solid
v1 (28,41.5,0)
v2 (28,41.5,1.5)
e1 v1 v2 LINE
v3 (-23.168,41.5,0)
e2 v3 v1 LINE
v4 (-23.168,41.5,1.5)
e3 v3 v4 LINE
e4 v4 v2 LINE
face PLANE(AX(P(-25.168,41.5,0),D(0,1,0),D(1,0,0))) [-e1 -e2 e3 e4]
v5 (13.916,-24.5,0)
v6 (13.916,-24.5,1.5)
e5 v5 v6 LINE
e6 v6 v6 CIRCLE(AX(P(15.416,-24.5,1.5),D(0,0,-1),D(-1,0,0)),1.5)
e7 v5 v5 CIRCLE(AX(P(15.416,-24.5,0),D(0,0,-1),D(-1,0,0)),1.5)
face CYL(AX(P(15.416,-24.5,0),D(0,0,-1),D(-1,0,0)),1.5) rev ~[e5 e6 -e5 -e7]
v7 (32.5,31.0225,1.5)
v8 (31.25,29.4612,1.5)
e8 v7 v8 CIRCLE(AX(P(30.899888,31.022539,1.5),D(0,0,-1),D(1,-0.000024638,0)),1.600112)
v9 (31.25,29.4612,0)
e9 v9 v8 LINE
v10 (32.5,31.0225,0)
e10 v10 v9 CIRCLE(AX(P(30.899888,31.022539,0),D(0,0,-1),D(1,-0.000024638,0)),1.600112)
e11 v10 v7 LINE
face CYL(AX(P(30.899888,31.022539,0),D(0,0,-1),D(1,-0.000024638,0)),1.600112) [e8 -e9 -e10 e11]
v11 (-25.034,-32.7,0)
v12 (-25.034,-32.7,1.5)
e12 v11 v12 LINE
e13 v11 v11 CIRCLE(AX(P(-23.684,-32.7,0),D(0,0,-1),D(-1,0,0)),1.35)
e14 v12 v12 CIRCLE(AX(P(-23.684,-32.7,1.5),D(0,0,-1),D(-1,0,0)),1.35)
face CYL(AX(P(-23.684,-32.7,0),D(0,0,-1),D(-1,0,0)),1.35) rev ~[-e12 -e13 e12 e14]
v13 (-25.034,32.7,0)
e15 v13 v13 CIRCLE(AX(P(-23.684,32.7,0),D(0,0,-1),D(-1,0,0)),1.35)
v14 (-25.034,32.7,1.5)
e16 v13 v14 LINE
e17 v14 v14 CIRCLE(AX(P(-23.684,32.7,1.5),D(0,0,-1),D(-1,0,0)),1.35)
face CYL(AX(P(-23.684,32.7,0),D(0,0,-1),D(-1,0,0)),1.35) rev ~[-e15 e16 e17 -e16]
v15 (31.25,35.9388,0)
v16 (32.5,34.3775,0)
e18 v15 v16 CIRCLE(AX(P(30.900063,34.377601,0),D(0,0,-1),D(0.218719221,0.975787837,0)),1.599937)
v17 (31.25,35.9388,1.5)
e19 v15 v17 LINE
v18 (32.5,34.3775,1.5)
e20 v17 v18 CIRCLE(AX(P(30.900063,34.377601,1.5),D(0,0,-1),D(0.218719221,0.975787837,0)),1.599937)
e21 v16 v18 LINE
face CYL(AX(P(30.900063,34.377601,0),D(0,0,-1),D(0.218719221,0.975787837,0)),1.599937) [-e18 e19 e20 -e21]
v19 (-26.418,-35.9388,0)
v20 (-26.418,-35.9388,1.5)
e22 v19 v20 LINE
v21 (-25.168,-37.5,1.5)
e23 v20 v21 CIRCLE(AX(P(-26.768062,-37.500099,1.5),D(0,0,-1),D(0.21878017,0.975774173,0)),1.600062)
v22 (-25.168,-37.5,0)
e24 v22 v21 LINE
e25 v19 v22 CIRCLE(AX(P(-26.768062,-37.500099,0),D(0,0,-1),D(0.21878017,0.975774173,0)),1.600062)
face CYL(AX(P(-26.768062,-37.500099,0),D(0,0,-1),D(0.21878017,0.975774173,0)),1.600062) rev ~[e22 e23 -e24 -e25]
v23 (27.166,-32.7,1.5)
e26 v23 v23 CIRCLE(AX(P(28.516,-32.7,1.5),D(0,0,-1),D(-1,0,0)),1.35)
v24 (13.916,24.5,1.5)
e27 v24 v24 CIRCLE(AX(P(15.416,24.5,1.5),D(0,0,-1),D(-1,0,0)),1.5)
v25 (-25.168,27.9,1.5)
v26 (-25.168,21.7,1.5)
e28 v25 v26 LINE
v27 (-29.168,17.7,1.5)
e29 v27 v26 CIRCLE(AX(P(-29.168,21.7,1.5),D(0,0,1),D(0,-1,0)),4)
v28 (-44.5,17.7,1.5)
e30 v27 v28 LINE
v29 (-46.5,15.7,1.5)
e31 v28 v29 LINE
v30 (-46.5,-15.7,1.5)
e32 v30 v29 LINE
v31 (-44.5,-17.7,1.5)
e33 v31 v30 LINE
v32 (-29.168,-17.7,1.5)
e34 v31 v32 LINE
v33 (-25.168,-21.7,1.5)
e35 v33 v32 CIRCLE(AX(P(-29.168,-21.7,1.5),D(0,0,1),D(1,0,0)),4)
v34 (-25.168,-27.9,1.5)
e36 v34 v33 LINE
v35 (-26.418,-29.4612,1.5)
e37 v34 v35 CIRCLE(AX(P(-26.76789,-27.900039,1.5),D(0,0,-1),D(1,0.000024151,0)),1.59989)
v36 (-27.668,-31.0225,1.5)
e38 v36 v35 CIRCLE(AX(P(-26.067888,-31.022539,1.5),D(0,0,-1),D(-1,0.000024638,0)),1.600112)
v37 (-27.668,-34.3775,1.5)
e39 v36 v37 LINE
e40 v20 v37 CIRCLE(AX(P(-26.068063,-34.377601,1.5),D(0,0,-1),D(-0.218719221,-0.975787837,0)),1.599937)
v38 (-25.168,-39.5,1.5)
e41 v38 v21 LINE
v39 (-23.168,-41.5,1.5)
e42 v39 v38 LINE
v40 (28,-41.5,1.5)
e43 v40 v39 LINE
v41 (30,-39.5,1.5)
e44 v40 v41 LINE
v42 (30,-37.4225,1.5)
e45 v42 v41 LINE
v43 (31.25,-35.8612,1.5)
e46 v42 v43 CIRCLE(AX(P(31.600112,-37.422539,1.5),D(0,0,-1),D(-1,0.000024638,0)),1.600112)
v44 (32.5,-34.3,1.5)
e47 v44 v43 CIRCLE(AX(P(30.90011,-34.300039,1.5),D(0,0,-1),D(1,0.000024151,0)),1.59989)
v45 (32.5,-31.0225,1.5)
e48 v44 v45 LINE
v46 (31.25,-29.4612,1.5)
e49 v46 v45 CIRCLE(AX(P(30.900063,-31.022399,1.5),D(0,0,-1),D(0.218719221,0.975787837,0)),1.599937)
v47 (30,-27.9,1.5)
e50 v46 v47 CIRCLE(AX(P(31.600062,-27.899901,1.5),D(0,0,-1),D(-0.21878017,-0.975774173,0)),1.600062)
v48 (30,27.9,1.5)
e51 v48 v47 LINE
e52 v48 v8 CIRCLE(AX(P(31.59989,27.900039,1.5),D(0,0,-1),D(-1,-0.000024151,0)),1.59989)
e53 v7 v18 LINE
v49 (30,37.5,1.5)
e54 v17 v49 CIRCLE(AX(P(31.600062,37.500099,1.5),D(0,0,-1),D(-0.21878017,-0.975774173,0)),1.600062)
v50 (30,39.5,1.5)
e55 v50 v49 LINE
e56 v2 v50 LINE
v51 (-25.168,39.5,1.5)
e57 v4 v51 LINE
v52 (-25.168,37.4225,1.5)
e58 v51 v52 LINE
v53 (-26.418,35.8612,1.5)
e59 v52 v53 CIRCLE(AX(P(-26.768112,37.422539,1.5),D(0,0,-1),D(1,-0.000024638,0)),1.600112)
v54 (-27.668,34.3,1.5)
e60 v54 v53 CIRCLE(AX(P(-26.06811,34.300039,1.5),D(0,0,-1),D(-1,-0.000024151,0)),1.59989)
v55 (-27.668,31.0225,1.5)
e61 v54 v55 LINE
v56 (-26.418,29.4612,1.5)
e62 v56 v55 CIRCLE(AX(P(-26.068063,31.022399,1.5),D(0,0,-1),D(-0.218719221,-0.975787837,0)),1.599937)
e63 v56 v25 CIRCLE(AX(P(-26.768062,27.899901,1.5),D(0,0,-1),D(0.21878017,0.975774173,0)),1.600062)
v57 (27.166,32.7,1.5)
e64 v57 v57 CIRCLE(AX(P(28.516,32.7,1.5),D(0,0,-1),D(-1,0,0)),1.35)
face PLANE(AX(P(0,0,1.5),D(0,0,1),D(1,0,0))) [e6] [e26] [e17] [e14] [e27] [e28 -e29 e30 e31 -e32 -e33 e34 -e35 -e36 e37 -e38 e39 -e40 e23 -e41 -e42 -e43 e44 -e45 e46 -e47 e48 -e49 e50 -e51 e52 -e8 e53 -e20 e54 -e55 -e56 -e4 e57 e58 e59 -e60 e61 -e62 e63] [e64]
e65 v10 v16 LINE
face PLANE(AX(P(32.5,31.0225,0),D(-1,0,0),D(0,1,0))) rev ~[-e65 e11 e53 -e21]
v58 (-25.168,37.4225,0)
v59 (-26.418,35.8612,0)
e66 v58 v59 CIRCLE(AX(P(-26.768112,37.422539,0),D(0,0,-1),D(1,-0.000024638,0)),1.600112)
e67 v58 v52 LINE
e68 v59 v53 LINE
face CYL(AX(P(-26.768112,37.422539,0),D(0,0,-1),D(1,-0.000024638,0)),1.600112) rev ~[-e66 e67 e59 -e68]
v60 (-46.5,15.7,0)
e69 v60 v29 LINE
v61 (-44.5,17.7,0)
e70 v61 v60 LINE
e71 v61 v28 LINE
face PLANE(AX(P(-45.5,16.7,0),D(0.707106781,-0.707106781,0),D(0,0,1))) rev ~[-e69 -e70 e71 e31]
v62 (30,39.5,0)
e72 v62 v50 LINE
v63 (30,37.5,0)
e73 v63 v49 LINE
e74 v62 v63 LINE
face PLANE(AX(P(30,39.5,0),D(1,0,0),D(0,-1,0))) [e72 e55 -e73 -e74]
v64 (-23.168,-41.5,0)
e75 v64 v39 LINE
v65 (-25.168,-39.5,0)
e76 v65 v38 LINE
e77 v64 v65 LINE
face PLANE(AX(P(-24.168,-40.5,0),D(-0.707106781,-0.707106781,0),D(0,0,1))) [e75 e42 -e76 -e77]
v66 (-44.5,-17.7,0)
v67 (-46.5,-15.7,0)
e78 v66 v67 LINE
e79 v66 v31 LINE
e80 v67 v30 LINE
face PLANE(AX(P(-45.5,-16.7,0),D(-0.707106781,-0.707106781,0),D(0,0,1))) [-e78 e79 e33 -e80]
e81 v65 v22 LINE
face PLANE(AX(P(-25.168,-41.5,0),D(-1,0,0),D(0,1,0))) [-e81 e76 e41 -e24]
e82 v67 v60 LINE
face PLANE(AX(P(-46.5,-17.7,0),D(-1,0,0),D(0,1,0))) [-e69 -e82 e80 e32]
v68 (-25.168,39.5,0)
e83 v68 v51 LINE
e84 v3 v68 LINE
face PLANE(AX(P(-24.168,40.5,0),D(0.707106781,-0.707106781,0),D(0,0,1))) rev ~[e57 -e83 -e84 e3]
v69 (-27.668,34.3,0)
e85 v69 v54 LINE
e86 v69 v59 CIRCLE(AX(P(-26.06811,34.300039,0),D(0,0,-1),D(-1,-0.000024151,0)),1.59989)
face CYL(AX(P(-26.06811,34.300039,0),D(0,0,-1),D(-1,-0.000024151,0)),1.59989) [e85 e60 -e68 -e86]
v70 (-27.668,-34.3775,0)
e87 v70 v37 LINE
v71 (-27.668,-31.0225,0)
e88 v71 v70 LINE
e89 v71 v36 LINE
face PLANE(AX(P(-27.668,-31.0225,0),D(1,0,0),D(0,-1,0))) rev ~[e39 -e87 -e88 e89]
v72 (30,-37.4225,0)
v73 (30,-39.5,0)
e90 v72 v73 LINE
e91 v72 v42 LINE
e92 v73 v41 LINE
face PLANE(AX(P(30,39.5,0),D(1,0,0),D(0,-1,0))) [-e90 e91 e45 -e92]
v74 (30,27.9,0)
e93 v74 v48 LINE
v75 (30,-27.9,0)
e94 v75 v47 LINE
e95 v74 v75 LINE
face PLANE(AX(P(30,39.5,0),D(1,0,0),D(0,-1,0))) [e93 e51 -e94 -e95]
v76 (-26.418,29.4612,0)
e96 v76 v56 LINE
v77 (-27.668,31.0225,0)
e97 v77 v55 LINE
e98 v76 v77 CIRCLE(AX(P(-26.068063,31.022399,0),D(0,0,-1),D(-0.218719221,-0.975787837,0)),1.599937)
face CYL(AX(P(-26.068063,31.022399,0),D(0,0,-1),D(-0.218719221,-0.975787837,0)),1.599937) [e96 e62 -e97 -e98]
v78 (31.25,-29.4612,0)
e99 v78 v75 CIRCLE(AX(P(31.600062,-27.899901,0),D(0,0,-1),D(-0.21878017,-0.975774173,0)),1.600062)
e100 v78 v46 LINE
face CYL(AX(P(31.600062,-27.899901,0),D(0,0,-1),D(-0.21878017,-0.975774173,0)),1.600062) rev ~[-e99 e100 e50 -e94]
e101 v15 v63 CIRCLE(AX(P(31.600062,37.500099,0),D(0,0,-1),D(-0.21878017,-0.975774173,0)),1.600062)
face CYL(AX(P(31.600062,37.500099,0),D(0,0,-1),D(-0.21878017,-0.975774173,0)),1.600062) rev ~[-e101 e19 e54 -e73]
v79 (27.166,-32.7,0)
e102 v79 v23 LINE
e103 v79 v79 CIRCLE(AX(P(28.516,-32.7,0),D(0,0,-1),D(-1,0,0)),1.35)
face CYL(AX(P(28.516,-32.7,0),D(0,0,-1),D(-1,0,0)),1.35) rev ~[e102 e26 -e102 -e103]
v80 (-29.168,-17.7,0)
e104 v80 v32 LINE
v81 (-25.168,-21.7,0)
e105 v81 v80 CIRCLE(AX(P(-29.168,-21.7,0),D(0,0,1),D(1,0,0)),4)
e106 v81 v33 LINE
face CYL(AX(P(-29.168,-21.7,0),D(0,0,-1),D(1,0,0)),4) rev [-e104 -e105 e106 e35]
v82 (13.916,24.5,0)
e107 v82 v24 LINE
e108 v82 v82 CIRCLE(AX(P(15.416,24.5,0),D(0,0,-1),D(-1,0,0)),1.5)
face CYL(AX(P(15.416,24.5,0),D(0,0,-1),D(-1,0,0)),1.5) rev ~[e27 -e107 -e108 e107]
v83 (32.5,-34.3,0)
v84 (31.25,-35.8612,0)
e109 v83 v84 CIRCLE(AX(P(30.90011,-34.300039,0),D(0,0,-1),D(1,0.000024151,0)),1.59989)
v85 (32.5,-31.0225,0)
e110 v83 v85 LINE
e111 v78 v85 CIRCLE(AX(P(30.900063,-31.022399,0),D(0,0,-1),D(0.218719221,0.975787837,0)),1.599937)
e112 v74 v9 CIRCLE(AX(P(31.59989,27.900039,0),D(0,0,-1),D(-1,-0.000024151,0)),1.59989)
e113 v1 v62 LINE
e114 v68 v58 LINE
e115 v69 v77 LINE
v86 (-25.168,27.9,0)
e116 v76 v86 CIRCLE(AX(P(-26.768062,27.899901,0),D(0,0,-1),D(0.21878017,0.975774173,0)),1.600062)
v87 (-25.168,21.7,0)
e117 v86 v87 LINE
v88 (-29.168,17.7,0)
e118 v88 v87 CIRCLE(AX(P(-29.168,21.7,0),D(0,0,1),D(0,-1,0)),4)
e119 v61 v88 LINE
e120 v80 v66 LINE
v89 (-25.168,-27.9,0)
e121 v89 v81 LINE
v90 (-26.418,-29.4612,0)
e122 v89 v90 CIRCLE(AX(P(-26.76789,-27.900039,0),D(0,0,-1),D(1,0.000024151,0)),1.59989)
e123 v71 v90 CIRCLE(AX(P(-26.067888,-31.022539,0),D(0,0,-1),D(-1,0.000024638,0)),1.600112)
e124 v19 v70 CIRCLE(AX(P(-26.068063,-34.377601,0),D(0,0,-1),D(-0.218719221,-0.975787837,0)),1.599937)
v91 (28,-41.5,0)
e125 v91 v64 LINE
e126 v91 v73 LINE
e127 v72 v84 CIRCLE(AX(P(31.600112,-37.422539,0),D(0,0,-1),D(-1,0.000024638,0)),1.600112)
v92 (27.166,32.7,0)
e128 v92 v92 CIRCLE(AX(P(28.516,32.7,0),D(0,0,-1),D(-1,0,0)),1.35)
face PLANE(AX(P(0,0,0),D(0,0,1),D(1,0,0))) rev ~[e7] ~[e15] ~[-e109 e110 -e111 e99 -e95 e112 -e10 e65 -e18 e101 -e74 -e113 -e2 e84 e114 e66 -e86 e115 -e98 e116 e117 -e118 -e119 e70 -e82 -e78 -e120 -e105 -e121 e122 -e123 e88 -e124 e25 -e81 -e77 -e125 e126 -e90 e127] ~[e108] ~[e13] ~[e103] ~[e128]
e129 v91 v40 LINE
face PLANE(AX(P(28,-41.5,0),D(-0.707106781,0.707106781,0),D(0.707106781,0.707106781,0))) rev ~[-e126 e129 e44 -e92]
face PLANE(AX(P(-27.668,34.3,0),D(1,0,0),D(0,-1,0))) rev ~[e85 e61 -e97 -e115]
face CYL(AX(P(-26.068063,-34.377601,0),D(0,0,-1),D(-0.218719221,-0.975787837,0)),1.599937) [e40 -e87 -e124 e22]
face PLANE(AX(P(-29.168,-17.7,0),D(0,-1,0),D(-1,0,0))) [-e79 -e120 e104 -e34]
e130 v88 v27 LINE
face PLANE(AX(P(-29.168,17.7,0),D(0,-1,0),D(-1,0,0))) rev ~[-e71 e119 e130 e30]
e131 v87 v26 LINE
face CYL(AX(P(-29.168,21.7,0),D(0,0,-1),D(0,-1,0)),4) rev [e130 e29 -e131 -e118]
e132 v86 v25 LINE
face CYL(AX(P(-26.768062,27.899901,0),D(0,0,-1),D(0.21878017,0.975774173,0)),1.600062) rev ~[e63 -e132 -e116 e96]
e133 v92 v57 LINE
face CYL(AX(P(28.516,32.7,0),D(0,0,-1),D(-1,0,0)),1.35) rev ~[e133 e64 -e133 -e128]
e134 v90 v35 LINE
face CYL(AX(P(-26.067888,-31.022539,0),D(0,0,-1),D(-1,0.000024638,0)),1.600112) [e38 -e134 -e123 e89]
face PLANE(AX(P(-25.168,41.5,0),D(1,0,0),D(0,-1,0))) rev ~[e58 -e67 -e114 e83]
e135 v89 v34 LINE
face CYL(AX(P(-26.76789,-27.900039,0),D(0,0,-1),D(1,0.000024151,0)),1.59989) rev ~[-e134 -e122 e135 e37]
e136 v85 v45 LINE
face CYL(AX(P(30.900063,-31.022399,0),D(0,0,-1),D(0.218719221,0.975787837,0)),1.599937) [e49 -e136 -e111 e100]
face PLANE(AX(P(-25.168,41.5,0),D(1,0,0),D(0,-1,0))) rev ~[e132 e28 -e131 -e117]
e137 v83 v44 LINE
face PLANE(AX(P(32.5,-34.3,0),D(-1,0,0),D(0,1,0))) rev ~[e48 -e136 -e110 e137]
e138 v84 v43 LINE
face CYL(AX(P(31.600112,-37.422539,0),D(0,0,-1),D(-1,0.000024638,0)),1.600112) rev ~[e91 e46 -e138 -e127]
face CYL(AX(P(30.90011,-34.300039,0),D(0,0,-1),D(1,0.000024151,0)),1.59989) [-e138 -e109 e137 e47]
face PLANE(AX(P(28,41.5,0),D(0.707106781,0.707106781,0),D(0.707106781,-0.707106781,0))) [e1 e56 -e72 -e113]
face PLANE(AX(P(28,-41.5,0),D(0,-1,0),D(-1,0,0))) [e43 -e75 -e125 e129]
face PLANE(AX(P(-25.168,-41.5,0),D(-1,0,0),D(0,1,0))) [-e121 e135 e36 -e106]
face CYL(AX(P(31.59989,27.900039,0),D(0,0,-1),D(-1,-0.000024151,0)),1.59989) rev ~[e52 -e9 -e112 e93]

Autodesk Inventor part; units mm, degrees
ref_plane "YZ Plane" through (0, 0, 0) normal (1, 0, 0) x (0, 1, 0)
ref_plane "XZ Plane" through (0, 0, 0) normal (0, 1, 0) x (-1, 0, 0)
ref_plane "XY Plane" through (0, 0, 0) normal (0, 0, 1) x (1, 0, 0)
sketch "Эскиз1" plane through (0, 0, 0) normal (0, 0, 1) x (1, 0, 0)
  line L0 (-30, 41.5) -> (28, 41.5)
  line L1 (30, 39.5) -> (30, -39.5)
  line L2 (28, -41.5) -> (-30, -41.5)
  line L3 (-30, -41.5) -> (-30, 41.5)
  line L4 (-30, 41.5) -> (30, -41.5) construction
  line L5 (30, 41.5) -> (-30, -41.5) construction
  line L6 (-30, -41.5) -> (-42.5, -41.5)
  line L7 (-46.5, -37.5) -> (-46.5, 37.5)
  line L8 (-42.5, 41.5) -> (-30, 41.5)
  line L9 (-30, 41.5) -> (-30, -41.5)
  line L10 (-42.5, -41.5) -> (-46.5, -37.5)
  line L11 (-46.5, 37.5) -> (-42.5, 41.5)
  line L12 (28, 41.5) -> (30, 39.5)
  line L13 (28, -41.5) -> (30, -39.5)
  line L14 (0, 0) -> (-23.984, 0) construction
  line L15 (-23.984, 0) -> (-23.984, 15.7) construction
  line L16 (-23.984, 15.7) -> (0, 15.7) construction
  line L17 (0, 15.7) -> (0, 0) construction
  circle A0 centre (-23.984, 15.7) radius 1.6
  circle A1 centre (-23.984, -15.7) radius 1.6
  circle A2 centre (23.984, 15.7) radius 1.6
  circle A3 centre (23.984, -15.7) radius 1.6
  line L18 (-46.5, -41.5) -> (-25.168, -41.5)
  line L19 (-25.168, -41.5) -> (-25.168, -21.7)
  line L20 (-29.168, -17.7) -> (-46.5, -17.7)
  line L21 (-46.5, -17.7) -> (-46.5, -41.5)
  arc A4 (-25.168, -21.7) -> (-29.168, -17.7) centre (-29.168, -21.7) ccw
  line L22 (-25.168, 41.5) -> (-25.168, 21.7)
  line L23 (-29.168, 17.7) -> (-46.5, 17.7)
  arc A5 (-29.168, 17.7) -> (-25.168, 21.7) centre (-29.168, 21.7) ccw
  point P0 (-46.5, 41.5)
  point P1 (-25.168, -17.7)
  point P2 (-25.168, 41.5)
  point P3 (-46.5, -17.7)
  point P4 (-25.168, -41.5)
  dimension "d0" = 60
  dimension "d1" = 83
  dimension "d2" = 16.5
  dimension "d3" = 83
  dimension "d6" = 4
  dimension "d7" = 4
  dimension "d8" = 4
  dimension "d9" = 4
  dimension "d10" = 2
  dimension "d11" = 2
  dimension "d12" = 2
  dimension "d13" = 2
  dimension "d14" = 23.984
  dimension "d15" = 15.7
  dimension "d16" = 3.2
  dimension "d17" = 21.332
  dimension "d18" = 23.8
  dimension "d19" = 4
extrude "Выдавливание1" add sketch "Эскиз1" along normal blind 1.5 contours L0 L12 L1 L13 L2 L19 A4 L20 L3 L23 A5 L22 | L3 L20 L7 L23 | A0 | A1 | A2 | A3
chamfer "Фаска1" distance 2 angle 45 4 edges at (-46.5, -17.7, 0.75) (-46.5, 17.7, 0.75) (-25.168, -41.5, 0.75) (-25.168, 41.5, 0.75)
sketch "Эскиз2" plane through (0, 0, 0) normal (0, 0, -1) x (-1, 0, 0)
  arc A0 (43.584, 19.7) -> (47.584, 23.7) centre (43.584, 23.7) ccw projected
  arc A1 (27.668, 34.3) -> (26.418, 35.8612) centre (26.068, 34.3) ccw projected
  line L0 (27.668, 34.3) -> (27.668, 31.0225) projected
  arc A2 (26.418, 29.4612) -> (27.668, 31.0225) centre (26.068, 31.0225) ccw projected
  arc A3 (26.418, 29.4612) -> (25.168, 27.9) centre (26.768, 27.9) ccw projected
  line L1 (25.168, 27.9) -> (25.168, 23.7) projected
  arc A4 (25.168, 23.7) -> (29.168, 19.7) centre (29.168, 23.7) ccw projected
  line L2 (29.168, 19.7) -> (43.584, 19.7) projected
  arc A5 (43.584, 19.7) -> (47.584, 23.7) centre (43.584, 23.7) ccw projected
  line L3 (47.584, 23.7) -> (47.584, 39.2) projected
  line L4 (47.584, 39.2) -> (25.168, 39.2) projected
  line L5 (25.168, 39.2) -> (25.168, 37.4225) projected
  arc A6 (25.168, 37.4225) -> (26.418, 35.8612) centre (26.768, 37.4225) ccw projected
  line L6 (52.084, -4) -> (58.0913, -4) projected
  line L7 (58.0913, -4) -> (58.0913, -38.5) projected
  line L8 (58.0913, -38.5) -> (69.3773, -38.5) projected
  line L9 (69.3773, -38.5) -> (69.3773, 32.5) projected
  line L10 (69.3773, 32.5) -> (58.0913, 32.5) projected
  line L11 (58.0913, 32.5) -> (58.0913, 24) projected
  line L12 (58.0913, 24) -> (52.084, 24) projected
  line L13 (52.084, 24) -> (52.084, 13.5) projected
  line L14 (52.084, 13.5) -> (34.584, 13.5) projected
  arc A7 (34.584, 13.5) -> (34.584, 1.5) centre (34.584, 7.5) ccw projected
  line L15 (34.584, 1.5) -> (47.084, 1.5) projected
  line L16 (47.084, 1.5) -> (47.084, -3.7639) projected
  spline S0 degree 3 poles (48.084, -6) (47.8036, -5.6035) (47.4716, -5.1246) (47.1717, -4.4032) (47.084, -4.0595) (47.084, -3.7639) knots 0.566831 0.566831 0.566831 0.566831 0.71252 0.71252 0.801197 0.801197 0.801197 0.801197 projected
  line L17 (51.084, -6) -> (48.084, -6) projected
  spline S1 degree 3 poles (52.084, -3.7639) (52.084, -4.0595) (51.9963, -4.4032) (51.6964, -5.1246) (51.3644, -5.6035) (51.084, -6) knots 0 0 0 0 0.088677 0.088677 0.234365 0.234365 0.234365 0.234365 projected
  line L18 (52.084, -3.7639) -> (52.084, -4) projected
  line L19 (74.484, -42.6) -> (-79.316, -42.6) projected
  line L20 (-79.316, -42.6) -> (-79.316, 42.6) projected
  line L21 (6.584, 42.6) -> (74.484, 42.6) projected
  line L22 (74.484, 42.6) -> (74.484, -42.6) projected
  circle A8 centre (23.684, -32.7) radius 1.6 projected
  circle A9 centre (23.684, 32.7) radius 1.6 projected
  line L23 (20.484, 41.2) -> (6.584, 41.2) projected
  line L24 (-25.316, 41.2) -> (-25.316, -41.2) projected
  line L25 (-25.316, -41.2) -> (20.484, -41.2) projected
  line L26 (20.484, -41.2) -> (20.484, 41.2) projected
  circle A10 centre (-28.516, -32.7) radius 1.6 projected
  circle A11 centre (-28.516, 32.7) radius 1.6 projected
  arc A12 (-32.5, 31.0225) -> (-31.25, 29.4612) centre (-30.9, 31.0225) ccw projected
  line L27 (-32.5, 31.0225) -> (-32.5, 34.3775) projected
  arc A13 (-31.25, 35.9388) -> (-32.5, 34.3775) centre (-30.9, 34.3775) ccw projected
  arc A14 (-31.25, 35.9388) -> (-30, 37.5) centre (-31.6, 37.5) ccw projected
  line L28 (-30, 37.5) -> (-30, 39.2) projected
  line L29 (-30, 39.2) -> (-52.416, 39.2) projected
  line L30 (-52.416, 39.2) -> (-52.416, 23.7) projected
  arc A15 (-52.416, 23.7) -> (-48.416, 19.7) centre (-48.416, 23.7) ccw projected
  line L31 (-48.416, 19.7) -> (-34, 19.7) projected
  arc A16 (-34, 19.7) -> (-30, 23.7) centre (-34, 23.7) ccw projected
  line L32 (-30, 23.7) -> (-30, 27.9) projected
  arc A17 (-30, 27.9) -> (-31.25, 29.4612) centre (-31.6, 27.9) ccw projected
  arc A18 (-32.5, -34.3) -> (-31.25, -35.8612) centre (-30.9, -34.3) ccw projected
  line L33 (-32.5, -34.3) -> (-32.5, -31.0225) projected
  arc A19 (-31.25, -29.4612) -> (-32.5, -31.0225) centre (-30.9, -31.0225) ccw projected
  arc A20 (-31.25, -29.4612) -> (-30, -27.9) centre (-31.6, -27.9) ccw projected
  line L34 (-30, -27.9) -> (-30, -23.7) projected
  arc A21 (-30, -23.7) -> (-34, -19.7) centre (-34, -23.7) ccw projected
  line L35 (-34, -19.7) -> (-48.416, -19.7) projected
  arc A22 (-48.416, -19.7) -> (-52.416, -23.7) centre (-48.416, -23.7) ccw projected
  line L36 (-52.416, -23.7) -> (-52.416, -39.2) projected
  line L37 (-52.416, -39.2) -> (-30, -39.2) projected
  line L38 (-30, -39.2) -> (-30, -37.4225) projected
  arc A23 (-30, -37.4225) -> (-31.25, -35.8612) centre (-31.6, -37.4225) ccw projected
  arc A24 (26.418, -35.9388) -> (27.668, -34.3775) centre (26.068, -34.3775) ccw projected
  arc A25 (26.418, -35.9388) -> (25.168, -37.5) centre (26.768, -37.5) ccw projected
  line L39 (25.168, -37.5) -> (25.168, -39.2) projected
  line L40 (25.168, -39.2) -> (47.584, -39.2) projected
  line L41 (47.584, -39.2) -> (47.584, -23.7) projected
  arc A26 (47.584, -23.7) -> (43.584, -19.7) centre (43.584, -23.7) ccw projected
  line L42 (43.584, -19.7) -> (29.168, -19.7) projected
  arc A27 (29.168, -19.7) -> (25.168, -21.7) centre (29.168, -23.7) ccw projected
  line L43 (25.168, -21.7) -> (25.168, -27.9) projected
  arc A28 (25.168, -27.9) -> (26.418, -29.4612) centre (26.768, -27.9) ccw projected
  arc A29 (27.668, -31.0225) -> (26.418, -29.4612) centre (26.068, -31.0225) ccw projected
  line L44 (27.668, -31.0225) -> (27.668, -34.3775) projected
  line L45 (25.168, -39.2) -> (25.168, 39.2)
  line L46 (25.168, -21.7) -> (25.168, -39.5) projected
  line L47 (-30, 39.2) -> (-30, -39.2)
  line L48 (-11.416, 42.6) -> (-11.416, 41.2) projected
  line L49 (-11.416, 41.2) -> (-25.316, 41.2) projected
  line L50 (6.584, 41.2) -> (6.584, 42.6) projected
  line L51 (-79.316, 42.6) -> (-11.416, 42.6) projected
  point P0 (0, 0)
  point P1 (-30, -37.4225)
  point P2 (-30, -27.9)
  point P3 (-30, 27.9)
  point P4 (-30, 37.5)
  point P5 (25.168, 37.4225)
  point P6 (25.168, 27.9)
  point P7 (25.168, -37.5)
  point P8 (25.168, -27.9)
extrude "Выдавливание2" add sketch "Эскиз2" against normal blind 1.5 contours L45 A9 A6 A1 L0 A2 A3 | L45 A9 | A28 A29 L44 A24 A25 L45 A8 | A8 L45 | L47 A10 | A10 L47 A23 A18 L33 A19 A20 | A17 A12 L27 A13 A14 L47 A11 | A11 L47 picked at (25.1894, 32.5653) picked at (25.1894, -32.5653) picked at (-30.0289, -32.5985) picked at (-30.0289, 32.8015)
sketch "Эскиз3" plane through (0, 0, 0) normal (0, 0, -1) x (-1, 0, 0)
  arc A0 (27.668, 34.3) -> (26.418, 35.8612) centre (26.068, 34.3) ccw projected
  line L0 (27.668, 34.3) -> (27.668, 31.0225) projected
  arc A1 (26.418, 29.4612) -> (27.668, 31.0225) centre (26.068, 31.0225) ccw projected
  arc A2 (26.418, 29.4612) -> (25.168, 27.9) centre (26.768, 27.9) ccw projected
  line L1 (25.168, 27.9) -> (25.168, 23.7) projected
  arc A3 (25.168, 23.7) -> (29.168, 19.7) centre (29.168, 23.7) ccw projected
  line L2 (29.168, 19.7) -> (43.584, 19.7) projected
  arc A4 (43.584, 19.7) -> (47.584, 23.7) centre (43.584, 23.7) ccw projected
  line L3 (47.584, 23.7) -> (47.584, 39.2) projected
  line L4 (47.584, 39.2) -> (25.168, 39.2) projected
  line L5 (25.168, 39.2) -> (25.168, 37.4225) projected
  arc A5 (25.168, 37.4225) -> (26.418, 35.8612) centre (26.768, 37.4225) ccw projected
  line L6 (52.084, -4) -> (58.0913, -4) projected
  line L7 (58.0913, -4) -> (58.0913, -38.5) projected
  line L8 (58.0913, -38.5) -> (69.3773, -38.5) projected
  line L9 (69.3773, -38.5) -> (69.3773, 32.5) projected
  line L10 (69.3773, 32.5) -> (58.0913, 32.5) projected
  line L11 (58.0913, 32.5) -> (58.0913, 24) projected
  line L12 (58.0913, 24) -> (52.084, 24) projected
  line L13 (52.084, 24) -> (52.084, 13.5) projected
  line L14 (52.084, 13.5) -> (34.584, 13.5) projected
  arc A6 (34.584, 13.5) -> (34.584, 1.5) centre (34.584, 7.5) ccw projected
  line L15 (34.584, 1.5) -> (47.084, 1.5) projected
  line L16 (47.084, 1.5) -> (47.084, -3.7639) projected
  spline S0 degree 3 poles (48.084, -6) (47.8036, -5.6035) (47.4716, -5.1246) (47.1717, -4.4032) (47.084, -4.0595) (47.084, -3.7639) knots 0.566831 0.566831 0.566831 0.566831 0.71252 0.71252 0.801197 0.801197 0.801197 0.801197 projected
  line L17 (51.084, -6) -> (48.084, -6) projected
  spline S1 degree 3 poles (52.084, -3.7639) (52.084, -4.0595) (51.9963, -4.4032) (51.6964, -5.1246) (51.3644, -5.6035) (51.084, -6) knots 0 0 0 0 0.088677 0.088677 0.234365 0.234365 0.234365 0.234365 projected
  line L18 (52.084, -3.7639) -> (52.084, -4) projected
  line L19 (74.484, -42.6) -> (-79.316, -42.6) projected
  line L20 (-79.316, -42.6) -> (-79.316, 42.6) projected
  line L21 (6.584, 42.6) -> (74.484, 42.6) projected
  line L22 (74.484, 42.6) -> (74.484, -42.6) projected
  circle A7 centre (23.684, -32.7) radius 1.6 projected
  circle A8 centre (23.684, 32.7) radius 1.6 projected
  line L23 (20.484, 41.2) -> (6.584, 41.2) projected
  line L24 (-25.316, 41.2) -> (-25.316, -41.2) projected
  line L25 (-25.316, -41.2) -> (20.484, -41.2) projected
  line L26 (20.484, -41.2) -> (20.484, 41.2) projected
  circle A9 centre (-28.516, -32.7) radius 1.6 projected
  circle A10 centre (-28.516, 32.7) radius 1.6 projected
  arc A11 (-32.5, 31.0225) -> (-31.25, 29.4612) centre (-30.9, 31.0225) ccw projected
  line L27 (-32.5, 31.0225) -> (-32.5, 34.3775) projected
  arc A12 (-31.25, 35.9388) -> (-32.5, 34.3775) centre (-30.9, 34.3775) ccw projected
  arc A13 (-31.25, 35.9388) -> (-30, 37.5) centre (-31.6, 37.5) ccw projected
  line L28 (-30, 37.5) -> (-30, 39.2) projected
  line L29 (-30, 39.2) -> (-52.416, 39.2) projected
  line L30 (-52.416, 39.2) -> (-52.416, 23.7) projected
  arc A14 (-52.416, 23.7) -> (-48.416, 19.7) centre (-48.416, 23.7) ccw projected
  line L31 (-48.416, 19.7) -> (-34, 19.7) projected
  arc A15 (-34, 19.7) -> (-30, 23.7) centre (-34, 23.7) ccw projected
  line L32 (-30, 23.7) -> (-30, 27.9) projected
  arc A16 (-30, 27.9) -> (-31.25, 29.4612) centre (-31.6, 27.9) ccw projected
  arc A17 (-32.5, -34.3) -> (-31.25, -35.8612) centre (-30.9, -34.3) ccw projected
  line L33 (-32.5, -34.3) -> (-32.5, -31.0225) projected
  arc A18 (-31.25, -29.4612) -> (-32.5, -31.0225) centre (-30.9, -31.0225) ccw projected
  arc A19 (-31.25, -29.4612) -> (-30, -27.9) centre (-31.6, -27.9) ccw projected
  line L34 (-30, -27.9) -> (-30, -23.7) projected
  arc A20 (-30, -23.7) -> (-34, -19.7) centre (-34, -23.7) ccw projected
  line L35 (-34, -19.7) -> (-48.416, -19.7) projected
  arc A21 (-48.416, -19.7) -> (-52.416, -23.7) centre (-48.416, -23.7) ccw projected
  line L36 (-52.416, -23.7) -> (-52.416, -39.2) projected
  line L37 (-52.416, -39.2) -> (-30, -39.2) projected
  line L38 (-30, -39.2) -> (-30, -37.4225) projected
  arc A22 (-30, -37.4225) -> (-31.25, -35.8612) centre (-31.6, -37.4225) ccw projected
  arc A23 (26.418, -35.9388) -> (27.668, -34.3775) centre (26.068, -34.3775) ccw projected
  arc A24 (26.418, -35.9388) -> (25.168, -37.5) centre (26.768, -37.5) ccw projected
  line L39 (25.168, -37.5) -> (25.168, -39.2) projected
  line L40 (25.168, -39.2) -> (47.584, -39.2) projected
  line L41 (47.584, -39.2) -> (47.584, -23.7) projected
  arc A25 (47.584, -23.7) -> (43.584, -19.7) centre (43.584, -23.7) ccw projected
  line L42 (43.584, -19.7) -> (29.168, -19.7) projected
  arc A26 (29.168, -19.7) -> (25.168, -23.7) centre (29.168, -23.7) ccw projected
  line L43 (25.168, -23.7) -> (25.168, -27.9) projected
  arc A27 (25.168, -27.9) -> (26.418, -29.4612) centre (26.768, -27.9) ccw projected
  arc A28 (27.668, -31.0225) -> (26.418, -29.4612) centre (26.068, -31.0225) ccw projected
  line L44 (27.668, -31.0225) -> (27.668, -34.3775) projected
  line L45 (25.168, -39.5) -> (23.168, -41.5) projected
  line L46 (23.168, -41.5) -> (25.168, -41.5) construction
  line L47 (25.168, -41.5) -> (25.168, -39.5) construction
  line L48 (25.168, -39.5) -> (23.168, -39.5) construction
  line L49 (23.168, -39.5) -> (23.168, -41.5) construction
  line L50 (25.168, -41.5) -> (-15.416, -41.5) construction
  line L51 (-15.416, -41.5) -> (-15.416, -24.5) construction
  line L52 (-15.416, -24.5) -> (25.168, -24.5) construction
  line L53 (25.168, -24.5) -> (25.168, -41.5) construction
  circle A29 centre (-15.416, -24.5) radius 1.5
  line L54 (-25.316, 0) -> (20.484, 0) construction
  circle A30 centre (-15.416, 24.5) radius 1.5
  circle A31 centre (23.684, -32.7) radius 1.35
  circle A32 centre (-28.516, -32.7) radius 1.35
  circle A33 centre (-28.516, 32.7) radius 1.35
  circle A34 centre (23.684, 32.7) radius 1.35
  line L55 (-11.416, 42.6) -> (-11.416, 41.2) projected
  line L56 (-11.416, 41.2) -> (-25.316, 41.2) projected
  line L57 (6.584, 41.2) -> (6.584, 42.6) projected
  line L58 (-79.316, 42.6) -> (-11.416, 42.6) projected
  point P0 (0, 0)
  dimension "d25" = 40.584
  dimension "d26" = 17
  dimension "d27" = 3
  dimension "d28" = 2.7
  dimension "d29" = 2.7
  dimension "d30" = 2.7
  dimension "d31" = 2.7
extrude "Выдавливание3" cut sketch "Эскиз3" against normal blind 1.5 contours A29 | A30 | A31 | A32 | A33 | A34
equation "\"d7\" = d6"
equation "\"d9\" = d8"
equation "\"d11\" = d10"
properties part number "power_board"
